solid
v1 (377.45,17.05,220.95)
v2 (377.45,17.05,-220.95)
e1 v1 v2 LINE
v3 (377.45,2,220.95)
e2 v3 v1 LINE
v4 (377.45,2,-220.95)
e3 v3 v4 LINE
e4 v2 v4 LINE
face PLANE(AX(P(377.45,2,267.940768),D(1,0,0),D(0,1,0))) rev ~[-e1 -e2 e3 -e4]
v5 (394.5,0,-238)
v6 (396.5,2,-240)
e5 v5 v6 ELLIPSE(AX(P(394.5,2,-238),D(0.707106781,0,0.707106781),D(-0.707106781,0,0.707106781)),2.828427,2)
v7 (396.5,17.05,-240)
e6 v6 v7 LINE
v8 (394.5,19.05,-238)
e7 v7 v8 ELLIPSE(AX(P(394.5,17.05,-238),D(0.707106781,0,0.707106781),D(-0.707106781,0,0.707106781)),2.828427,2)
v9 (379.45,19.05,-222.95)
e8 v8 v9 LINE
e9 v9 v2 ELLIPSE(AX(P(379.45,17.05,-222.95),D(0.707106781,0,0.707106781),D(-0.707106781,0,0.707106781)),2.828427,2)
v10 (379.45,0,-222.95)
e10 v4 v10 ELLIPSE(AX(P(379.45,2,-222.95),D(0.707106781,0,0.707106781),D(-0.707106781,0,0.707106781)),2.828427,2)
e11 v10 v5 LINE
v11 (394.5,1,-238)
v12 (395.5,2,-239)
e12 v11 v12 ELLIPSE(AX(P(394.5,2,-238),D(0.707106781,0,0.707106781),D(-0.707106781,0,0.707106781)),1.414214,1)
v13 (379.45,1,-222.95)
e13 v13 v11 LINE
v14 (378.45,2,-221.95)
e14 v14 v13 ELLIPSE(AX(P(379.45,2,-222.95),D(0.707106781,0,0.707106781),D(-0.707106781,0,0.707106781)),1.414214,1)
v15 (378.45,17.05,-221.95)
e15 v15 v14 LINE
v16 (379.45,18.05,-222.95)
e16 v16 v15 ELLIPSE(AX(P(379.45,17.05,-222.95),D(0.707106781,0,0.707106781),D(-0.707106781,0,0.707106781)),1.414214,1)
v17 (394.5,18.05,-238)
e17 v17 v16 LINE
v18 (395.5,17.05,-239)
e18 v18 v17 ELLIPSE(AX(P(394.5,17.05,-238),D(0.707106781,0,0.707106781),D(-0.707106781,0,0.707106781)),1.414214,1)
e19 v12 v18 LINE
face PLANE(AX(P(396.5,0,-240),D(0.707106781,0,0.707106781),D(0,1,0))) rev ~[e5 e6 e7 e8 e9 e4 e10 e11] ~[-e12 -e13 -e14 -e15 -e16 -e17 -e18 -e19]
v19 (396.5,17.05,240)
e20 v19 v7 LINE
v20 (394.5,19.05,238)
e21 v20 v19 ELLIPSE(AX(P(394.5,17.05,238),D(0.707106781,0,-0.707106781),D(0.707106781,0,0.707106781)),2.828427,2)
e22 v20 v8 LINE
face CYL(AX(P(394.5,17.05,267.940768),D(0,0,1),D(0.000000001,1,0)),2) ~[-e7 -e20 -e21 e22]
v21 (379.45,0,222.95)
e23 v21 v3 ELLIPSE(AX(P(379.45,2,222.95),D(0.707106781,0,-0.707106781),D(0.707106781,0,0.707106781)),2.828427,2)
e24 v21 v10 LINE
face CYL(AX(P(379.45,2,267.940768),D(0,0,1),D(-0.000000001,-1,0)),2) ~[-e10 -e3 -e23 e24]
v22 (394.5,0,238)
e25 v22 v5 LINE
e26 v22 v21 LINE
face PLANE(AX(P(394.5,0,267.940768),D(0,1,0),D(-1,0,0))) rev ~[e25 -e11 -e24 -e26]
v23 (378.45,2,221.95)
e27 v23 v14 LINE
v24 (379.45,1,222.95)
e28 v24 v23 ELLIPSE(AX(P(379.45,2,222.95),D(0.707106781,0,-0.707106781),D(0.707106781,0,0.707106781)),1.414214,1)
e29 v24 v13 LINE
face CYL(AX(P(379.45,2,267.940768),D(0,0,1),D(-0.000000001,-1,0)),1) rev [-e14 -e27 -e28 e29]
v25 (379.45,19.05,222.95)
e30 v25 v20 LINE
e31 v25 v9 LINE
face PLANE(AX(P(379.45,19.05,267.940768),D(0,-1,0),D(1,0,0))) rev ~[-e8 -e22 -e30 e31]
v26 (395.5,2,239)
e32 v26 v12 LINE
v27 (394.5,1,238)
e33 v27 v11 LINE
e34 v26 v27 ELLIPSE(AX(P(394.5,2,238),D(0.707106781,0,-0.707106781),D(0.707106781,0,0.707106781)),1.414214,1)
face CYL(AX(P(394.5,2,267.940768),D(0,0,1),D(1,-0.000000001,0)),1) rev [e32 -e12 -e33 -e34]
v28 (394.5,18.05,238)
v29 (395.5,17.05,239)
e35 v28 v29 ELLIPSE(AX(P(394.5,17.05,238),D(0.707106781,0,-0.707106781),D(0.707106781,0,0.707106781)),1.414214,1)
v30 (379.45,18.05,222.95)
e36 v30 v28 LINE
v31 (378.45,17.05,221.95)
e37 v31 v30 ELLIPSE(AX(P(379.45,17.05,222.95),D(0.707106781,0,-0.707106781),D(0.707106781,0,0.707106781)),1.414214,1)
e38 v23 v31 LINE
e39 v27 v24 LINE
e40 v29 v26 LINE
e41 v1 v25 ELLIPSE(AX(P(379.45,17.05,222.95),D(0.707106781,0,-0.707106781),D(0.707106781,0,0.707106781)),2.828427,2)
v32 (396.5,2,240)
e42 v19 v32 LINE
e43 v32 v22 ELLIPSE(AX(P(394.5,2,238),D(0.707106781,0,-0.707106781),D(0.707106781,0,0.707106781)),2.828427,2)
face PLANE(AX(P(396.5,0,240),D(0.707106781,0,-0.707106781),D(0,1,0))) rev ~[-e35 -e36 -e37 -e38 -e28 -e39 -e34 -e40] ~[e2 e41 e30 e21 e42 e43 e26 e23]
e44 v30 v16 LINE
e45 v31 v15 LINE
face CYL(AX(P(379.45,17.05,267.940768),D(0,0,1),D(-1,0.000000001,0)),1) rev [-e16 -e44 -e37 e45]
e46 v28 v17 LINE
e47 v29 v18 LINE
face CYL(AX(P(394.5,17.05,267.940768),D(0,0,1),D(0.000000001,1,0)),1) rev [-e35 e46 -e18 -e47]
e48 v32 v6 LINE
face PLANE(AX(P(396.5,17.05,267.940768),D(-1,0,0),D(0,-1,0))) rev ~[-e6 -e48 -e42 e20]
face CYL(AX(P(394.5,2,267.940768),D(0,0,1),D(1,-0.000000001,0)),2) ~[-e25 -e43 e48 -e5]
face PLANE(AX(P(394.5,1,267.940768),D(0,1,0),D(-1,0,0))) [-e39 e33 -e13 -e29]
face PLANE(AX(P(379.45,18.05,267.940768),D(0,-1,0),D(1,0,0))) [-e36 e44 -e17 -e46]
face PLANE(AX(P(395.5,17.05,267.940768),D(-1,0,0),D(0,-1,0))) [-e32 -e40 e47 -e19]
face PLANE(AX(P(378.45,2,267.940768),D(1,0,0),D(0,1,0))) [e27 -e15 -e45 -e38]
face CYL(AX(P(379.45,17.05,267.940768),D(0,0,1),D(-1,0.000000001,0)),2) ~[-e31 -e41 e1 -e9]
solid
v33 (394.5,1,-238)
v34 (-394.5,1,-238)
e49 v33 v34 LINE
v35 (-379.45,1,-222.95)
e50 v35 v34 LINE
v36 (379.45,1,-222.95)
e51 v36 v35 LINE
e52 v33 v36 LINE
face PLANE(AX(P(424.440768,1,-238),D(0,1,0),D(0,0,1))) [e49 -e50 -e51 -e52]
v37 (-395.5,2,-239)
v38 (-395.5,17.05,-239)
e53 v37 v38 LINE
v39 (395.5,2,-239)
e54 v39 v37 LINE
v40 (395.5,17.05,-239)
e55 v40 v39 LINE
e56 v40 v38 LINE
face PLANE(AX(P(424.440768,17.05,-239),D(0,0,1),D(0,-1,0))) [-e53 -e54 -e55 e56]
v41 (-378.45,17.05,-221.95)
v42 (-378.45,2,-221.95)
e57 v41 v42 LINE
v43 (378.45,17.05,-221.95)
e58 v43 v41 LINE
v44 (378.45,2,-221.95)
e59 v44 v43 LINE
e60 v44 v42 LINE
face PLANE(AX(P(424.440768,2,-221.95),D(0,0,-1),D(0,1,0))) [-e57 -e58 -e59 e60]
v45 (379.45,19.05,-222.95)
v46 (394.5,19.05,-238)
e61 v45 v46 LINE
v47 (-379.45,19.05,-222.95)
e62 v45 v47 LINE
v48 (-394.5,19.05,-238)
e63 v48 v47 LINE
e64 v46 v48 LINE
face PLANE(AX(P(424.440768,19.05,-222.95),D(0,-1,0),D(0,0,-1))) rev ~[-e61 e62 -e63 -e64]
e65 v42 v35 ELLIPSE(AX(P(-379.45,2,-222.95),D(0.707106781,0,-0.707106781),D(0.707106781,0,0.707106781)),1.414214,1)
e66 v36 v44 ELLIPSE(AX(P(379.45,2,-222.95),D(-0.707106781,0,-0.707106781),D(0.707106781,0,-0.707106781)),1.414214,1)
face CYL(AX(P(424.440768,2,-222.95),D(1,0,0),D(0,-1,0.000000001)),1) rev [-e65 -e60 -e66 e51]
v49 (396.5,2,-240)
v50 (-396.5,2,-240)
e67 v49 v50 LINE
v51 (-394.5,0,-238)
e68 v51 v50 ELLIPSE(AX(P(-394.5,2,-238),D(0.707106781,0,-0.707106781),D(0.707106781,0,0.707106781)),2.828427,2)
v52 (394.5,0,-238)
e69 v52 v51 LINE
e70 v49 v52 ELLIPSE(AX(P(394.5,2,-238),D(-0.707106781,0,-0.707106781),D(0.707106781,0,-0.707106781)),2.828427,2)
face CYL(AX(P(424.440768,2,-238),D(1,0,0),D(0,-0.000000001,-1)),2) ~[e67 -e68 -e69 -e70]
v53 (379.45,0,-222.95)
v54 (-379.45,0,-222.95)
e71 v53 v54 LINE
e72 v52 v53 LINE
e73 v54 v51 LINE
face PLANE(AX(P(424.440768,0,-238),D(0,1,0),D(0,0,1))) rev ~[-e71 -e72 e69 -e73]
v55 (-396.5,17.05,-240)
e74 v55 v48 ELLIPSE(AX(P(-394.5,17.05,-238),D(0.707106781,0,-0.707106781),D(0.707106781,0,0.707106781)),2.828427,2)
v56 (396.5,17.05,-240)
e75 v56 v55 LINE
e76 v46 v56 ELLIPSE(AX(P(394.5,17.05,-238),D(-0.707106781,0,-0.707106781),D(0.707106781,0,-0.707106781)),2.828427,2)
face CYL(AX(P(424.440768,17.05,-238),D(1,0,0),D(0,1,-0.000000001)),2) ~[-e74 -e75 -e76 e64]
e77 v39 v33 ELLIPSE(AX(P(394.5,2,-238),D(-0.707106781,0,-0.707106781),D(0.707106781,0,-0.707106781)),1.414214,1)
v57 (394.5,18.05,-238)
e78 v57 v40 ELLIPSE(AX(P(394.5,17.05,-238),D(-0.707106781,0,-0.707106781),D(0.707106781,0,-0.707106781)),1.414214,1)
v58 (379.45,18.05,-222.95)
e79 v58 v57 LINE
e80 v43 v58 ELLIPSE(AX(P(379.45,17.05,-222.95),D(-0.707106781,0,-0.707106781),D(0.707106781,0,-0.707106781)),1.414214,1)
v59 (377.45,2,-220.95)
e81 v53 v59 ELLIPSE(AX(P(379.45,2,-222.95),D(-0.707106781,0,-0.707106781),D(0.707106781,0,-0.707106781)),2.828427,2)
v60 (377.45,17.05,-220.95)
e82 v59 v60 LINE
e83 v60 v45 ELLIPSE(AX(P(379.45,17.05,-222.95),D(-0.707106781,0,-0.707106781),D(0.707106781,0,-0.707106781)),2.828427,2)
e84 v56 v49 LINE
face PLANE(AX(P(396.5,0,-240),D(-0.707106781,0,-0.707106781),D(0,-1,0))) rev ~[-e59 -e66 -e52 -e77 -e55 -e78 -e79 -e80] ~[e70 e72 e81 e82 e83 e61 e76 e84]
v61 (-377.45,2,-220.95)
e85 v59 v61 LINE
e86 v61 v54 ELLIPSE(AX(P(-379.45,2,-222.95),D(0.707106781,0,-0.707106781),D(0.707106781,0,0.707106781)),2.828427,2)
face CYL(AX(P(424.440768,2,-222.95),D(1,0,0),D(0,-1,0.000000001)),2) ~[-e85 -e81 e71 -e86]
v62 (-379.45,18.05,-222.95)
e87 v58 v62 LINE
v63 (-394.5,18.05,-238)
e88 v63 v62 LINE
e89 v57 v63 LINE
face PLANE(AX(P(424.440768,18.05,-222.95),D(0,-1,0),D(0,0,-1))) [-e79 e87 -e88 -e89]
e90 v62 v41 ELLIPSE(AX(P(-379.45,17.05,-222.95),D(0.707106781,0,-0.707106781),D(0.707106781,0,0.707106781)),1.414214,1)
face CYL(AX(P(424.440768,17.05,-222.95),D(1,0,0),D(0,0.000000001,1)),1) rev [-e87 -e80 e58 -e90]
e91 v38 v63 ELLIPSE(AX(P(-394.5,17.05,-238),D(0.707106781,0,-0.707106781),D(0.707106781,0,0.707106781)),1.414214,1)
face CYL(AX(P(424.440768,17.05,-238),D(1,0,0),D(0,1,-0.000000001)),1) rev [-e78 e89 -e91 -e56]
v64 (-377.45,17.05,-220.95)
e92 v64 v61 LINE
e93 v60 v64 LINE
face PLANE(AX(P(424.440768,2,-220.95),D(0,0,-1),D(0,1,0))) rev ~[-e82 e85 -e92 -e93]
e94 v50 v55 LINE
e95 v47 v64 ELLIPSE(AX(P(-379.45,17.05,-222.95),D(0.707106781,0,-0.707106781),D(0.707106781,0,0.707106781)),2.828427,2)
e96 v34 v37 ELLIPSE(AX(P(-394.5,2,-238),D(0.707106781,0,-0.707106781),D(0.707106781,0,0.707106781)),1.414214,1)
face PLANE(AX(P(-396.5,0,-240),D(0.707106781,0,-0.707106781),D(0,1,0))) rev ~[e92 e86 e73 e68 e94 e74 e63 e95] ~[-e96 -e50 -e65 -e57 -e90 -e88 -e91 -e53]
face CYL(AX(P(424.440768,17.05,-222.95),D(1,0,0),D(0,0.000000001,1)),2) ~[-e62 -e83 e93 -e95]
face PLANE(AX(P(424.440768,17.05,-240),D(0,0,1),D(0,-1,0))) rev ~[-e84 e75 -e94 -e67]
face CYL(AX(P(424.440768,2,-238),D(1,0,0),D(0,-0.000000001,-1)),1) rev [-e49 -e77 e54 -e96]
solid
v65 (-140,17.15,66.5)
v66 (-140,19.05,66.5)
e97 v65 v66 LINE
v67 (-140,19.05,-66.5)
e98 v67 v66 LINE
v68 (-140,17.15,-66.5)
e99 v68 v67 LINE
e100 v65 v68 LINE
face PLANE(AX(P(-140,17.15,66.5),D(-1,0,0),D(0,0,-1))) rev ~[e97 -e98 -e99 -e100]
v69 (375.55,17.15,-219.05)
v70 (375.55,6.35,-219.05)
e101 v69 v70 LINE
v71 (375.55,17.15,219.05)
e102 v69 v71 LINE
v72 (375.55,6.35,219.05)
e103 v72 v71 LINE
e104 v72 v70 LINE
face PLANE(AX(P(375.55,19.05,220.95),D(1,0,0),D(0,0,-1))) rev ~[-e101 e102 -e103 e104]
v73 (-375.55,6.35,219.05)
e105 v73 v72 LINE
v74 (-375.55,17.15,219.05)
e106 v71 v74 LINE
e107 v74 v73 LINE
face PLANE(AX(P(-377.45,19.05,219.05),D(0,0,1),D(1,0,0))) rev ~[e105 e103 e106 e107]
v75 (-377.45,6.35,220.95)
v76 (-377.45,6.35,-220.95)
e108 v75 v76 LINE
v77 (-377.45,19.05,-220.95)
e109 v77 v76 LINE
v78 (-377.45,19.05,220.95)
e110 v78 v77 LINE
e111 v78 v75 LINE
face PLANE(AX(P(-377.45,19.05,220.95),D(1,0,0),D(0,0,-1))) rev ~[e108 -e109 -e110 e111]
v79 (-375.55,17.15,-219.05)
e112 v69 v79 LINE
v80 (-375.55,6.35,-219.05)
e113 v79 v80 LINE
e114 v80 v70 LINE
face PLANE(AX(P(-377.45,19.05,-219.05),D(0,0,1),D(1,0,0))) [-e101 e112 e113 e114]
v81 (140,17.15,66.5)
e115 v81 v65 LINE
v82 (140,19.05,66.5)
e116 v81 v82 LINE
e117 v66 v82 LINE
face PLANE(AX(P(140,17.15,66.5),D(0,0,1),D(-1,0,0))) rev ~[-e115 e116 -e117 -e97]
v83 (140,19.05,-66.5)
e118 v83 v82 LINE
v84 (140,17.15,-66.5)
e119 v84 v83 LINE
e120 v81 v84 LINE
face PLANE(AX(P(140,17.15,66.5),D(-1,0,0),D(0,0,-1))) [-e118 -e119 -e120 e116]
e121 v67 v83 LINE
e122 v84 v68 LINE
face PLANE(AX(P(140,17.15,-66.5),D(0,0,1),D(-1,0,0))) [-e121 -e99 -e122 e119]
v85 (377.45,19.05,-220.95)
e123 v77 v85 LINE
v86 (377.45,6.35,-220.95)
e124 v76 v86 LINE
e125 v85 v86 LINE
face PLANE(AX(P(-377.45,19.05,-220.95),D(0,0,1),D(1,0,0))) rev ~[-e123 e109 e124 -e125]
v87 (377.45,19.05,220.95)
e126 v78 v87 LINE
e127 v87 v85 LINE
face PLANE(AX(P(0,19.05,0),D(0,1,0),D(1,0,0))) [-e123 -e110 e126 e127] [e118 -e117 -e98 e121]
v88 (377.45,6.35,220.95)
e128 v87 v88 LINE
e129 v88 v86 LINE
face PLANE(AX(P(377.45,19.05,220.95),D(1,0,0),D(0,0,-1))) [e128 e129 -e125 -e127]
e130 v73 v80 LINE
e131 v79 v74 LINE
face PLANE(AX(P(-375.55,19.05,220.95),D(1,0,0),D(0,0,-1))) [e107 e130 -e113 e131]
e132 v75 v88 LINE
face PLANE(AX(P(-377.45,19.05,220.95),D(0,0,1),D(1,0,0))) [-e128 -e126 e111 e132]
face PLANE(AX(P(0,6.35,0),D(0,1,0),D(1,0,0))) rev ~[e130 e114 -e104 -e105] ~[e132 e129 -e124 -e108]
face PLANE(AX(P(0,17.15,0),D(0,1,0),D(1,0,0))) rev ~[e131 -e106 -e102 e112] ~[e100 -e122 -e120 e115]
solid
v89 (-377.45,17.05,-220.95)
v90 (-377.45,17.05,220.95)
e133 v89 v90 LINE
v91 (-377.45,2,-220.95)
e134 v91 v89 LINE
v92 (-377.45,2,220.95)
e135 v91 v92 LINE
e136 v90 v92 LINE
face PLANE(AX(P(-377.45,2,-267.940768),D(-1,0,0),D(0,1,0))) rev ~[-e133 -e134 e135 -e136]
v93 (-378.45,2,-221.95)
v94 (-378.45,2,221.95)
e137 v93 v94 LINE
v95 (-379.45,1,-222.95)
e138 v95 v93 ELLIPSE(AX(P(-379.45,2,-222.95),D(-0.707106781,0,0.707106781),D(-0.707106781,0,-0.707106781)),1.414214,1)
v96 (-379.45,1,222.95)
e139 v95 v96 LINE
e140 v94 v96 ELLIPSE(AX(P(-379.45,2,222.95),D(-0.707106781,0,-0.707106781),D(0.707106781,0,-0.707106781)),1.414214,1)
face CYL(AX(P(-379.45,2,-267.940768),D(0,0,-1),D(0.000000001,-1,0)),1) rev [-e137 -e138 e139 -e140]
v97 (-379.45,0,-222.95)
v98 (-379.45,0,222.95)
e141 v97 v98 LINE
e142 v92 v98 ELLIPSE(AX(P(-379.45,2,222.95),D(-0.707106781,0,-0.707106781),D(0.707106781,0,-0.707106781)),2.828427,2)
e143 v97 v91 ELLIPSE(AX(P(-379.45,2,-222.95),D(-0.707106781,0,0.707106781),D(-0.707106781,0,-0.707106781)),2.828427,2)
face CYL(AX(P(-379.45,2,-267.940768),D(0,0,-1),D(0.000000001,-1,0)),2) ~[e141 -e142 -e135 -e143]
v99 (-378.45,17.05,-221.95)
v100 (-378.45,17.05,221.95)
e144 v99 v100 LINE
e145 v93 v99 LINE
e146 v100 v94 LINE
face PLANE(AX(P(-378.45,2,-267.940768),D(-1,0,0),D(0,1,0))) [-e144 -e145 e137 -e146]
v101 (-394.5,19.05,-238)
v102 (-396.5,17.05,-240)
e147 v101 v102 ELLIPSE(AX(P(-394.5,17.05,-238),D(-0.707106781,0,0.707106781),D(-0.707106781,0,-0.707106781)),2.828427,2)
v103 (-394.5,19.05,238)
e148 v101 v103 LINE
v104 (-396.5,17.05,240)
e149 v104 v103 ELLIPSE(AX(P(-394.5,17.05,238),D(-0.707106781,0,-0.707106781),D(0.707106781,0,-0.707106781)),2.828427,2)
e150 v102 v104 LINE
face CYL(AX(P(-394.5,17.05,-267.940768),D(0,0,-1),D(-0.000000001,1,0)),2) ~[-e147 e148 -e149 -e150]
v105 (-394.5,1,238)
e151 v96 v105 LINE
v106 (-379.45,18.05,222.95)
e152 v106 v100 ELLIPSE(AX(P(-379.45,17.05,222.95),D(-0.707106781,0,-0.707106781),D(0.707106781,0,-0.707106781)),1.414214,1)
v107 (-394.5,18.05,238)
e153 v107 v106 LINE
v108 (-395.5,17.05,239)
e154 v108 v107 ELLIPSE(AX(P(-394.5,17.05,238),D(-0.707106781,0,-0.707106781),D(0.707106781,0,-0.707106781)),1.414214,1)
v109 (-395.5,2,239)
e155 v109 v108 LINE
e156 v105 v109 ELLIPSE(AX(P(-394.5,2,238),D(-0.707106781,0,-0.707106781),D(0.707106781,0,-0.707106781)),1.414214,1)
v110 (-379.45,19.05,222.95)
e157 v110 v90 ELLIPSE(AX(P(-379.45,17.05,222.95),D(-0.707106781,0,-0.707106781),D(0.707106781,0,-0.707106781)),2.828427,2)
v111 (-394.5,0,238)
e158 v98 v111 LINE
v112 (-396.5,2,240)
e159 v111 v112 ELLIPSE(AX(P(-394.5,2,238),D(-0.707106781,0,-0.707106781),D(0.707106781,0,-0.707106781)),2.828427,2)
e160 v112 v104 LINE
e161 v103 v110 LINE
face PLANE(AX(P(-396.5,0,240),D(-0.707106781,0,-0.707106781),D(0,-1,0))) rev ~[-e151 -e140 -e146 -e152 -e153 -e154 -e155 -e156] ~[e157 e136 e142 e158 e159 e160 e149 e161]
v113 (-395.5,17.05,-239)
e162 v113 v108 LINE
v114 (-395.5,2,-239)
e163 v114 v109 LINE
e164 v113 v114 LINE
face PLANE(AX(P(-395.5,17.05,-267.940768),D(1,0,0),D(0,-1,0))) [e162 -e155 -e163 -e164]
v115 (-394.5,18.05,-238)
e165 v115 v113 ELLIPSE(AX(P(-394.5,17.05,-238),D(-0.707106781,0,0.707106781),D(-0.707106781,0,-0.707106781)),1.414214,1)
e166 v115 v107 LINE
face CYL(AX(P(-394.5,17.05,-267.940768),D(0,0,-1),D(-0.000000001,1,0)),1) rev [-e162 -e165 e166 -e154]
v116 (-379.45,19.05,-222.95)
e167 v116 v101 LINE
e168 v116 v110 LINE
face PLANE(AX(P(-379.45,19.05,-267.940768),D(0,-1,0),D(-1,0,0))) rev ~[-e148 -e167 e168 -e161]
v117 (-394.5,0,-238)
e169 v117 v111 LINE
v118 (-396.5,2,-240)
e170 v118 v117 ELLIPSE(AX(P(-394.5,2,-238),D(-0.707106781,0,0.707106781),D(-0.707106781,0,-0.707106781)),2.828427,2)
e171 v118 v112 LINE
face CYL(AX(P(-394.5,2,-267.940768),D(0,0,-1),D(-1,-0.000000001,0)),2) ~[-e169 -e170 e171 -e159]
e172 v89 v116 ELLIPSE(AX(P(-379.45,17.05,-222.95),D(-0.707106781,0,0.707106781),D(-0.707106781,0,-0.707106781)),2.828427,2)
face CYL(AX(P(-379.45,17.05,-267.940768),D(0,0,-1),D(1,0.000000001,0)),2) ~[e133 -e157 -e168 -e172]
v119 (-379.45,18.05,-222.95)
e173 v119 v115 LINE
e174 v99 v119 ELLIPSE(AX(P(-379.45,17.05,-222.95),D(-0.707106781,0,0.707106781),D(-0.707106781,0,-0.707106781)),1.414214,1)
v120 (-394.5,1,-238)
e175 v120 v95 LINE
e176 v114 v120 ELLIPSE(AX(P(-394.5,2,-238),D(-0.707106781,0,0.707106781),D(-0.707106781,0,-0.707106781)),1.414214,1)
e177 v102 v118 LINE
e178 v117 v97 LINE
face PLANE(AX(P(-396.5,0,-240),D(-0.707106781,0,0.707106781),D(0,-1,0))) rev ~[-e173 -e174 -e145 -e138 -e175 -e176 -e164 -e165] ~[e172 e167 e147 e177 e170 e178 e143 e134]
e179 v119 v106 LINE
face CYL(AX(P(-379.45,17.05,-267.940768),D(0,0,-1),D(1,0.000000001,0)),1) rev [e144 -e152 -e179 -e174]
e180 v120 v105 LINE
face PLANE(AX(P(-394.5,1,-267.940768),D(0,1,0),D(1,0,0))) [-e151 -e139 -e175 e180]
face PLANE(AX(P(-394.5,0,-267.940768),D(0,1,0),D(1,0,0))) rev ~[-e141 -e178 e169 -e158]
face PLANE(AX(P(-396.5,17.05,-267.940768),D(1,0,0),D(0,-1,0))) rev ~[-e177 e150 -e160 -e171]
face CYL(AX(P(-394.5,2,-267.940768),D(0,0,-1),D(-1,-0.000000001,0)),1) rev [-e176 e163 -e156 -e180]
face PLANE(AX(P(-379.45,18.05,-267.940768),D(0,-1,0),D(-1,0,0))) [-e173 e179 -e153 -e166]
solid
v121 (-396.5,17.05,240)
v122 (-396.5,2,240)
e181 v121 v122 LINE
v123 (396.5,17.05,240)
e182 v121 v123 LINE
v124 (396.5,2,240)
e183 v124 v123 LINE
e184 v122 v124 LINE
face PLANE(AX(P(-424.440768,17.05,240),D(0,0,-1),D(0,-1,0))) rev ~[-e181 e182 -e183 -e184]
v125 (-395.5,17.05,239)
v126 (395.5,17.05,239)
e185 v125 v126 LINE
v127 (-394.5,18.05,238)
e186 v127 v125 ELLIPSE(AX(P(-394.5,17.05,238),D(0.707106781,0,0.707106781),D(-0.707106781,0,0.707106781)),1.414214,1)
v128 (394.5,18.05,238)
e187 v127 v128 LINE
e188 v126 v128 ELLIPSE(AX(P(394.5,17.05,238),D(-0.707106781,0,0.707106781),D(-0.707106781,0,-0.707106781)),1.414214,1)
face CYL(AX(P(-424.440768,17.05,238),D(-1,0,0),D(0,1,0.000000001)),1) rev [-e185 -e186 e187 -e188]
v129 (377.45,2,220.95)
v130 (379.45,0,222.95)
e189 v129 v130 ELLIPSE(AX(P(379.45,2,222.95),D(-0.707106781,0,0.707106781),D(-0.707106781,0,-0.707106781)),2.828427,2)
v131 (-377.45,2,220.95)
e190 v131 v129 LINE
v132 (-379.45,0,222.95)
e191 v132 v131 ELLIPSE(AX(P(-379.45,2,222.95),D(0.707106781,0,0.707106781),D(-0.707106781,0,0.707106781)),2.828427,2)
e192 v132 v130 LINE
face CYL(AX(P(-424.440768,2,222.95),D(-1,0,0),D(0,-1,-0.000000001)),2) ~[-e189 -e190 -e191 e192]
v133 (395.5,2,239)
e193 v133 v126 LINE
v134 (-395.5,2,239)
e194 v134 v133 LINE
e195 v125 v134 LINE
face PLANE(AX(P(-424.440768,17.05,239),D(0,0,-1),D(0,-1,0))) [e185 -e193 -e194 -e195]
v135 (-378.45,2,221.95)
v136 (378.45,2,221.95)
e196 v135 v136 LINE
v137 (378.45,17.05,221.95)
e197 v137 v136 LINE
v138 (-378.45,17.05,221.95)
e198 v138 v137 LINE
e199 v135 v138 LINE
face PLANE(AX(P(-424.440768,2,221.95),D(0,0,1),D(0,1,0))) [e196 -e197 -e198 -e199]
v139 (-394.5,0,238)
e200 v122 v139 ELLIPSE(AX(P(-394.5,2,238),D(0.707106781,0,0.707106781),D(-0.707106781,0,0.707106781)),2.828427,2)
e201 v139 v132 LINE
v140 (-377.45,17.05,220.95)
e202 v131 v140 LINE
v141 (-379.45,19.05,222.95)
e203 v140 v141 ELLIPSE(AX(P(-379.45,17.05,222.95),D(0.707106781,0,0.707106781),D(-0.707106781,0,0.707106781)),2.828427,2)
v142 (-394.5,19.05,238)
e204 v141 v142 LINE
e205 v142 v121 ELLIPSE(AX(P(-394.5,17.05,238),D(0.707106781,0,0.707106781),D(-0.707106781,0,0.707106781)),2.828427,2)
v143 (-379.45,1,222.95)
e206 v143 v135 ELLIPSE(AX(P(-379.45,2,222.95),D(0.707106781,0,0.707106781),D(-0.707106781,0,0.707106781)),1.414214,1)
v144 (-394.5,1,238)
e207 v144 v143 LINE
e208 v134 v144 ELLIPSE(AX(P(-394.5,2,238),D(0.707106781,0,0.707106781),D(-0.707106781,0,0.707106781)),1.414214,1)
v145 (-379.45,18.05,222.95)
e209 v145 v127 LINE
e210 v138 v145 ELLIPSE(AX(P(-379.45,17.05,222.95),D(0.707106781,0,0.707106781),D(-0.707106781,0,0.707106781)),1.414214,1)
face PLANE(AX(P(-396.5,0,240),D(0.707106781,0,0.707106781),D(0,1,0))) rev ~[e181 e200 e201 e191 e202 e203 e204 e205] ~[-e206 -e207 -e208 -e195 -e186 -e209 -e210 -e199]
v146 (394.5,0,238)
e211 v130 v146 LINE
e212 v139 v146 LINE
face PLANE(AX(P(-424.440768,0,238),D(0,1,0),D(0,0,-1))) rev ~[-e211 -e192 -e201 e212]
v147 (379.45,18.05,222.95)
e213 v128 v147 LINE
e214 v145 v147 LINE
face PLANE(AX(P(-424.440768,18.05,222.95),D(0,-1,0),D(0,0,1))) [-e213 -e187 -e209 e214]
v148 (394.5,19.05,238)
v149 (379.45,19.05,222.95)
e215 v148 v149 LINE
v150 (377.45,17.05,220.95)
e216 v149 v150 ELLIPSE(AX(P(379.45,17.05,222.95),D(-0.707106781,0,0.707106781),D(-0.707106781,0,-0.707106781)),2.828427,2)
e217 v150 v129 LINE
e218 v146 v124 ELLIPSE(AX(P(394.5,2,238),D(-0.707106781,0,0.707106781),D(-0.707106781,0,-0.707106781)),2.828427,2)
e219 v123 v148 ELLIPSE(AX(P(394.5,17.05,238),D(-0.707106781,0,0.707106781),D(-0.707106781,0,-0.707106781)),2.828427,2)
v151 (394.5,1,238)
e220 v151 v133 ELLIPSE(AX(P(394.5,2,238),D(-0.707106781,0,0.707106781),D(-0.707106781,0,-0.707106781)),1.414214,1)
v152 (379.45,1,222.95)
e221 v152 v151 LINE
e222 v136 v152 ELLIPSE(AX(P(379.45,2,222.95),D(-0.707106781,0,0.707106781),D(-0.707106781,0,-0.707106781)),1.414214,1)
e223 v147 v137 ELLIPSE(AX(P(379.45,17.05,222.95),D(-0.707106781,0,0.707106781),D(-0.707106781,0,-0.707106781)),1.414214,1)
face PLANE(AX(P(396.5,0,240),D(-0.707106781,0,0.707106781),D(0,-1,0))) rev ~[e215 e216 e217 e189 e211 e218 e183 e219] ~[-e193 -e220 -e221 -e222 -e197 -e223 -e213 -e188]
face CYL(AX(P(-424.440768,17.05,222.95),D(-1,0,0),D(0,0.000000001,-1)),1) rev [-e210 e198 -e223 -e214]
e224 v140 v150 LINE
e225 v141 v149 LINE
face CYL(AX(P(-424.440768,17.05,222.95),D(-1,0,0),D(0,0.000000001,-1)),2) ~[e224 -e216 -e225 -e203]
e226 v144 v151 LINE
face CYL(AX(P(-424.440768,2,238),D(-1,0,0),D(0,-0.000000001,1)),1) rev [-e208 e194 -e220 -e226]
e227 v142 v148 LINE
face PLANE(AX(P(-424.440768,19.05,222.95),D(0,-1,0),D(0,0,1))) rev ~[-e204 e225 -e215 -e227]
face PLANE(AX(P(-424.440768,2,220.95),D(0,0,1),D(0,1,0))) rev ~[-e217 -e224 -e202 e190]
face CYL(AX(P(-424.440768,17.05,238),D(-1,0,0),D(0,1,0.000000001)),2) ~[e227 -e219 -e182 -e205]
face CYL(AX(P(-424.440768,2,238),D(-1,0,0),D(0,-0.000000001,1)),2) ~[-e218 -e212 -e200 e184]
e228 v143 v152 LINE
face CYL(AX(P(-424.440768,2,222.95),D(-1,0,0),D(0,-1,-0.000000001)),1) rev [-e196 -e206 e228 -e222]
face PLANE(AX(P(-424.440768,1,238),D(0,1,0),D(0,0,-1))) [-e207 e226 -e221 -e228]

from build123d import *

# Parameters (mm, degrees)
TUBO_CUADRADO_2_X_2_X_0_25_1_DEPTH      = 507.940768363
TUBO_CUADRADO_2_X_2_X_0_25_1_DEPTH_BACK = 27.940768363
TUBO_CUADRADO_2_X_2_X_0_25_1_2_DEPTH    = 848.881536726
TUBO_CUADRADO_2_X_2_X_0_25_1_3_DEPTH    = 535.881536726
TUBO_CUADRADO_2_X_2_X_0_25_1_4_DEPTH    = 848.881536726
CROQUIS2_W                              = 754.9
CROQUIS2_H                              = 441.9
SALIENTE_EXTRUIR1_DEPTH                 = 12.7
VACIADO1_T                              = -1.9
CROQUIS3_W                              = 280
CROQUIS3_H                              = 133
CORTAR_EXTRUIR1_DEPTH                   = 10


with BuildPart() as part:
    # Sketch1 → Tubo cuadrado 2 X 2 X 0.25(1) (new, two sides: drawn at the far end of the back side and taken through both)
    with BuildSketch(Plane(origin=(-386.975, 9.525, -240), x_dir=(1, 0, 0), z_dir=(0, 0, 1)).offset(-TUBO_CUADRADO_2_X_2_X_0_25_1_DEPTH_BACK)):
        with BuildLine():
            Line((-7.525, -9.525), (7.525, -9.525))
            ThreePointArc((7.525, -9.525), (8.939213562, -8.939213562), (9.525, -7.525))
            Line((9.525, -7.525), (9.525, 7.525))
            ThreePointArc((9.525, 7.525), (8.939213562, 8.939213562), (7.525, 9.525))
            Line((7.525, 9.525), (-7.525, 9.525))
            ThreePointArc((-7.525, 9.525), (-8.939213562, 8.939213562), (-9.525, 7.525))
            Line((-9.525, 7.525), (-9.525, -7.525))
            ThreePointArc((-9.525, -7.525), (-8.939213562, -8.939213562), (-7.525, -9.525))
        make_face()
        with BuildLine():
            Line((-7.525, -8.525), (7.525, -8.525))
            ThreePointArc((7.525, -8.525), (8.232106781, -8.232106781), (8.525, -7.525))
            Line((8.525, -7.525), (8.525, 7.525))
            ThreePointArc((8.525, 7.525), (8.232106781, 8.232106781), (7.525, 8.525))
            Line((7.525, 8.525), (-7.525, 8.525))
            ThreePointArc((-7.525, 8.525), (-8.232106781, 8.232106781), (-8.525, 7.525))
            Line((-8.525, 7.525), (-8.525, -7.525))
            ThreePointArc((-8.525, -7.525), (-8.232106781, -8.232106781), (-7.525, -8.525))
        make_face(mode=Mode.SUBTRACT)
    extrude(amount=TUBO_CUADRADO_2_X_2_X_0_25_1_DEPTH + TUBO_CUADRADO_2_X_2_X_0_25_1_DEPTH_BACK)

    # Tubo cuadrado 2 X 2 X 0.25(1) mitre 1
    split(bisect_by=Plane(origin=(-396.5, 0, -240), x_dir=(0, -1, 0), z_dir=(-0.707106781, 0, 0.707106781)), keep=Keep.TOP)

    # Tubo cuadrado 2 X 2 X 0.25(1) mitre 2
    split(bisect_by=Plane(origin=(-396.5, 0, 240), x_dir=(0, -1, 0), z_dir=(-0.707106781, 0, -0.707106781)), keep=Keep.TOP)


with BuildPart() as body_2:
    # Sketch1 on segment 2 (carried to segment 2) → Tubo cuadrado 2 X 2 X 0.25_1 2 (new body)
    with BuildSketch(Plane(origin=(-424.440768363, 9.525, 230.475), x_dir=(0, 0, -1), z_dir=(1, 0, 0))):
        with BuildLine():
            Line((-7.525, -9.525), (7.525, -9.525))
            ThreePointArc((7.525, -9.525), (8.939213562, -8.939213562), (9.525, -7.525))
            Line((9.525, -7.525), (9.525, 7.525))
            ThreePointArc((9.525, 7.525), (8.939213562, 8.939213562), (7.525, 9.525))
            Line((7.525, 9.525), (-7.525, 9.525))
            ThreePointArc((-7.525, 9.525), (-8.939213562, 8.939213562), (-9.525, 7.525))
            Line((-9.525, 7.525), (-9.525, -7.525))
            ThreePointArc((-9.525, -7.525), (-8.939213562, -8.939213562), (-7.525, -9.525))
        make_face()
        with BuildLine():
            Line((-7.525, -8.525), (7.525, -8.525))
            ThreePointArc((7.525, -8.525), (8.232106781, -8.232106781), (8.525, -7.525))
            Line((8.525, -7.525), (8.525, 7.525))
            ThreePointArc((8.525, 7.525), (8.232106781, 8.232106781), (7.525, 8.525))
            Line((7.525, 8.525), (-7.525, 8.525))
            ThreePointArc((-7.525, 8.525), (-8.232106781, 8.232106781), (-8.525, 7.525))
            Line((-8.525, 7.525), (-8.525, -7.525))
            ThreePointArc((-8.525, -7.525), (-8.232106781, -8.232106781), (-7.525, -8.525))
        make_face(mode=Mode.SUBTRACT)
    extrude(amount=TUBO_CUADRADO_2_X_2_X_0_25_1_2_DEPTH)

    # Tubo cuadrado 2 X 2 X 0.25_1 2 mitre 1
    split(bisect_by=Plane(origin=(-396.5, 0, 240), x_dir=(0, 1, 0), z_dir=(0.707106781, 0, 0.707106781)), keep=Keep.TOP)

    # Tubo cuadrado 2 X 2 X 0.25_1 2 mitre 2
    split(bisect_by=Plane(origin=(396.5, 0, 240), x_dir=(0, -1, 0), z_dir=(-0.707106781, 0, 0.707106781)), keep=Keep.TOP)


with BuildPart() as body_3:
    # Sketch1 on segment 3 (carried to segment 3) → Tubo cuadrado 2 X 2 X 0.25_1 3 (new body)
    with BuildSketch(Plane(origin=(386.975, 9.525, 267.940768363), x_dir=(-1, 0, 0), z_dir=(0, 0, -1))):
        with BuildLine():
            Line((-7.525, -9.525), (7.525, -9.525))
            ThreePointArc((7.525, -9.525), (8.939213562, -8.939213562), (9.525, -7.525))
            Line((9.525, -7.525), (9.525, 7.525))
            ThreePointArc((9.525, 7.525), (8.939213562, 8.939213562), (7.525, 9.525))
            Line((7.525, 9.525), (-7.525, 9.525))
            ThreePointArc((-7.525, 9.525), (-8.939213562, 8.939213562), (-9.525, 7.525))
            Line((-9.525, 7.525), (-9.525, -7.525))
            ThreePointArc((-9.525, -7.525), (-8.939213562, -8.939213562), (-7.525, -9.525))
        make_face()
        with BuildLine():
            Line((-7.525, -8.525), (7.525, -8.525))
            ThreePointArc((7.525, -8.525), (8.232106781, -8.232106781), (8.525, -7.525))
            Line((8.525, -7.525), (8.525, 7.525))
            ThreePointArc((8.525, 7.525), (8.232106781, 8.232106781), (7.525, 8.525))
            Line((7.525, 8.525), (-7.525, 8.525))
            ThreePointArc((-7.525, 8.525), (-8.232106781, 8.232106781), (-8.525, 7.525))
            Line((-8.525, 7.525), (-8.525, -7.525))
            ThreePointArc((-8.525, -7.525), (-8.232106781, -8.232106781), (-7.525, -8.525))
        make_face(mode=Mode.SUBTRACT)
    extrude(amount=TUBO_CUADRADO_2_X_2_X_0_25_1_3_DEPTH)

    # Tubo cuadrado 2 X 2 X 0.25_1 3 mitre 1
    split(bisect_by=Plane(origin=(396.5, 0, -240), x_dir=(0, 1, 0), z_dir=(0.707106781, 0, 0.707106781)), keep=Keep.TOP)

    # Tubo cuadrado 2 X 2 X 0.25_1 3 mitre 2
    split(bisect_by=Plane(origin=(396.5, 0, 240), x_dir=(0, 1, 0), z_dir=(0.707106781, 0, -0.707106781)), keep=Keep.TOP)


with BuildPart() as body_4:
    # Sketch1 on segment 4 (carried to segment 4) → Tubo cuadrado 2 X 2 X 0.25_1 4 (new body)
    with BuildSketch(Plane(origin=(424.440768363, 9.525, -230.475), x_dir=(0, 0, 1), z_dir=(-1, 0, 0))):
        with BuildLine():
            Line((-7.525, -9.525), (7.525, -9.525))
            ThreePointArc((7.525, -9.525), (8.939213562, -8.939213562), (9.525, -7.525))
            Line((9.525, -7.525), (9.525, 7.525))
            ThreePointArc((9.525, 7.525), (8.939213562, 8.939213562), (7.525, 9.525))
            Line((7.525, 9.525), (-7.525, 9.525))
            ThreePointArc((-7.525, 9.525), (-8.939213562, 8.939213562), (-9.525, 7.525))
            Line((-9.525, 7.525), (-9.525, -7.525))
            ThreePointArc((-9.525, -7.525), (-8.939213562, -8.939213562), (-7.525, -9.525))
        make_face()
        with BuildLine():
            Line((-7.525, -8.525), (7.525, -8.525))
            ThreePointArc((7.525, -8.525), (8.232106781, -8.232106781), (8.525, -7.525))
            Line((8.525, -7.525), (8.525, 7.525))
            ThreePointArc((8.525, 7.525), (8.232106781, 8.232106781), (7.525, 8.525))
            Line((7.525, 8.525), (-7.525, 8.525))
            ThreePointArc((-7.525, 8.525), (-8.232106781, 8.232106781), (-8.525, 7.525))
            Line((-8.525, 7.525), (-8.525, -7.525))
            ThreePointArc((-8.525, -7.525), (-8.232106781, -8.232106781), (-7.525, -8.525))
        make_face(mode=Mode.SUBTRACT)
    extrude(amount=TUBO_CUADRADO_2_X_2_X_0_25_1_4_DEPTH)

    # Tubo cuadrado 2 X 2 X 0.25_1 4 mitre 1
    split(bisect_by=Plane(origin=(-396.5, 0, -240), x_dir=(0, 1, 0), z_dir=(0.707106781, 0, -0.707106781)), keep=Keep.TOP)

    # Tubo cuadrado 2 X 2 X 0.25_1 4 mitre 2
    split(bisect_by=Plane(origin=(396.5, 0, -240), x_dir=(0, -1, 0), z_dir=(-0.707106781, 0, -0.707106781)), keep=Keep.TOP)


with BuildPart() as body_5:
    # Croquis2 → Saliente-Extruir1 (new body)
    with BuildSketch(Plane(origin=(0, 19.05, 0), x_dir=(1, 0, 0), z_dir=(0, 1, 0))):
        Rectangle(CROQUIS2_W, CROQUIS2_H)
    extrude(amount=-SALIENTE_EXTRUIR1_DEPTH)

    # Vaciado1
    vaciado1_openings = [body_5.faces().sort_by_distance(p)[0] for p in [
        (0, 6.35, 0),
    ]]
    offset(amount=VACIADO1_T, openings=vaciado1_openings, kind=Kind.INTERSECTION)

    # Croquis3 → Cortar-Extruir1 (cut)
    with BuildSketch(Plane(origin=(0, 17.15, 0), x_dir=(-1, 0, 0), z_dir=(0, -1, 0))):
        Rectangle(CROQUIS3_W, CROQUIS3_H)
    extrude(amount=-CORTAR_EXTRUIR1_DEPTH, mode=Mode.SUBTRACT)


solid = Compound([part.part, body_2.part, body_3.part, body_4.part, body_5.part])
